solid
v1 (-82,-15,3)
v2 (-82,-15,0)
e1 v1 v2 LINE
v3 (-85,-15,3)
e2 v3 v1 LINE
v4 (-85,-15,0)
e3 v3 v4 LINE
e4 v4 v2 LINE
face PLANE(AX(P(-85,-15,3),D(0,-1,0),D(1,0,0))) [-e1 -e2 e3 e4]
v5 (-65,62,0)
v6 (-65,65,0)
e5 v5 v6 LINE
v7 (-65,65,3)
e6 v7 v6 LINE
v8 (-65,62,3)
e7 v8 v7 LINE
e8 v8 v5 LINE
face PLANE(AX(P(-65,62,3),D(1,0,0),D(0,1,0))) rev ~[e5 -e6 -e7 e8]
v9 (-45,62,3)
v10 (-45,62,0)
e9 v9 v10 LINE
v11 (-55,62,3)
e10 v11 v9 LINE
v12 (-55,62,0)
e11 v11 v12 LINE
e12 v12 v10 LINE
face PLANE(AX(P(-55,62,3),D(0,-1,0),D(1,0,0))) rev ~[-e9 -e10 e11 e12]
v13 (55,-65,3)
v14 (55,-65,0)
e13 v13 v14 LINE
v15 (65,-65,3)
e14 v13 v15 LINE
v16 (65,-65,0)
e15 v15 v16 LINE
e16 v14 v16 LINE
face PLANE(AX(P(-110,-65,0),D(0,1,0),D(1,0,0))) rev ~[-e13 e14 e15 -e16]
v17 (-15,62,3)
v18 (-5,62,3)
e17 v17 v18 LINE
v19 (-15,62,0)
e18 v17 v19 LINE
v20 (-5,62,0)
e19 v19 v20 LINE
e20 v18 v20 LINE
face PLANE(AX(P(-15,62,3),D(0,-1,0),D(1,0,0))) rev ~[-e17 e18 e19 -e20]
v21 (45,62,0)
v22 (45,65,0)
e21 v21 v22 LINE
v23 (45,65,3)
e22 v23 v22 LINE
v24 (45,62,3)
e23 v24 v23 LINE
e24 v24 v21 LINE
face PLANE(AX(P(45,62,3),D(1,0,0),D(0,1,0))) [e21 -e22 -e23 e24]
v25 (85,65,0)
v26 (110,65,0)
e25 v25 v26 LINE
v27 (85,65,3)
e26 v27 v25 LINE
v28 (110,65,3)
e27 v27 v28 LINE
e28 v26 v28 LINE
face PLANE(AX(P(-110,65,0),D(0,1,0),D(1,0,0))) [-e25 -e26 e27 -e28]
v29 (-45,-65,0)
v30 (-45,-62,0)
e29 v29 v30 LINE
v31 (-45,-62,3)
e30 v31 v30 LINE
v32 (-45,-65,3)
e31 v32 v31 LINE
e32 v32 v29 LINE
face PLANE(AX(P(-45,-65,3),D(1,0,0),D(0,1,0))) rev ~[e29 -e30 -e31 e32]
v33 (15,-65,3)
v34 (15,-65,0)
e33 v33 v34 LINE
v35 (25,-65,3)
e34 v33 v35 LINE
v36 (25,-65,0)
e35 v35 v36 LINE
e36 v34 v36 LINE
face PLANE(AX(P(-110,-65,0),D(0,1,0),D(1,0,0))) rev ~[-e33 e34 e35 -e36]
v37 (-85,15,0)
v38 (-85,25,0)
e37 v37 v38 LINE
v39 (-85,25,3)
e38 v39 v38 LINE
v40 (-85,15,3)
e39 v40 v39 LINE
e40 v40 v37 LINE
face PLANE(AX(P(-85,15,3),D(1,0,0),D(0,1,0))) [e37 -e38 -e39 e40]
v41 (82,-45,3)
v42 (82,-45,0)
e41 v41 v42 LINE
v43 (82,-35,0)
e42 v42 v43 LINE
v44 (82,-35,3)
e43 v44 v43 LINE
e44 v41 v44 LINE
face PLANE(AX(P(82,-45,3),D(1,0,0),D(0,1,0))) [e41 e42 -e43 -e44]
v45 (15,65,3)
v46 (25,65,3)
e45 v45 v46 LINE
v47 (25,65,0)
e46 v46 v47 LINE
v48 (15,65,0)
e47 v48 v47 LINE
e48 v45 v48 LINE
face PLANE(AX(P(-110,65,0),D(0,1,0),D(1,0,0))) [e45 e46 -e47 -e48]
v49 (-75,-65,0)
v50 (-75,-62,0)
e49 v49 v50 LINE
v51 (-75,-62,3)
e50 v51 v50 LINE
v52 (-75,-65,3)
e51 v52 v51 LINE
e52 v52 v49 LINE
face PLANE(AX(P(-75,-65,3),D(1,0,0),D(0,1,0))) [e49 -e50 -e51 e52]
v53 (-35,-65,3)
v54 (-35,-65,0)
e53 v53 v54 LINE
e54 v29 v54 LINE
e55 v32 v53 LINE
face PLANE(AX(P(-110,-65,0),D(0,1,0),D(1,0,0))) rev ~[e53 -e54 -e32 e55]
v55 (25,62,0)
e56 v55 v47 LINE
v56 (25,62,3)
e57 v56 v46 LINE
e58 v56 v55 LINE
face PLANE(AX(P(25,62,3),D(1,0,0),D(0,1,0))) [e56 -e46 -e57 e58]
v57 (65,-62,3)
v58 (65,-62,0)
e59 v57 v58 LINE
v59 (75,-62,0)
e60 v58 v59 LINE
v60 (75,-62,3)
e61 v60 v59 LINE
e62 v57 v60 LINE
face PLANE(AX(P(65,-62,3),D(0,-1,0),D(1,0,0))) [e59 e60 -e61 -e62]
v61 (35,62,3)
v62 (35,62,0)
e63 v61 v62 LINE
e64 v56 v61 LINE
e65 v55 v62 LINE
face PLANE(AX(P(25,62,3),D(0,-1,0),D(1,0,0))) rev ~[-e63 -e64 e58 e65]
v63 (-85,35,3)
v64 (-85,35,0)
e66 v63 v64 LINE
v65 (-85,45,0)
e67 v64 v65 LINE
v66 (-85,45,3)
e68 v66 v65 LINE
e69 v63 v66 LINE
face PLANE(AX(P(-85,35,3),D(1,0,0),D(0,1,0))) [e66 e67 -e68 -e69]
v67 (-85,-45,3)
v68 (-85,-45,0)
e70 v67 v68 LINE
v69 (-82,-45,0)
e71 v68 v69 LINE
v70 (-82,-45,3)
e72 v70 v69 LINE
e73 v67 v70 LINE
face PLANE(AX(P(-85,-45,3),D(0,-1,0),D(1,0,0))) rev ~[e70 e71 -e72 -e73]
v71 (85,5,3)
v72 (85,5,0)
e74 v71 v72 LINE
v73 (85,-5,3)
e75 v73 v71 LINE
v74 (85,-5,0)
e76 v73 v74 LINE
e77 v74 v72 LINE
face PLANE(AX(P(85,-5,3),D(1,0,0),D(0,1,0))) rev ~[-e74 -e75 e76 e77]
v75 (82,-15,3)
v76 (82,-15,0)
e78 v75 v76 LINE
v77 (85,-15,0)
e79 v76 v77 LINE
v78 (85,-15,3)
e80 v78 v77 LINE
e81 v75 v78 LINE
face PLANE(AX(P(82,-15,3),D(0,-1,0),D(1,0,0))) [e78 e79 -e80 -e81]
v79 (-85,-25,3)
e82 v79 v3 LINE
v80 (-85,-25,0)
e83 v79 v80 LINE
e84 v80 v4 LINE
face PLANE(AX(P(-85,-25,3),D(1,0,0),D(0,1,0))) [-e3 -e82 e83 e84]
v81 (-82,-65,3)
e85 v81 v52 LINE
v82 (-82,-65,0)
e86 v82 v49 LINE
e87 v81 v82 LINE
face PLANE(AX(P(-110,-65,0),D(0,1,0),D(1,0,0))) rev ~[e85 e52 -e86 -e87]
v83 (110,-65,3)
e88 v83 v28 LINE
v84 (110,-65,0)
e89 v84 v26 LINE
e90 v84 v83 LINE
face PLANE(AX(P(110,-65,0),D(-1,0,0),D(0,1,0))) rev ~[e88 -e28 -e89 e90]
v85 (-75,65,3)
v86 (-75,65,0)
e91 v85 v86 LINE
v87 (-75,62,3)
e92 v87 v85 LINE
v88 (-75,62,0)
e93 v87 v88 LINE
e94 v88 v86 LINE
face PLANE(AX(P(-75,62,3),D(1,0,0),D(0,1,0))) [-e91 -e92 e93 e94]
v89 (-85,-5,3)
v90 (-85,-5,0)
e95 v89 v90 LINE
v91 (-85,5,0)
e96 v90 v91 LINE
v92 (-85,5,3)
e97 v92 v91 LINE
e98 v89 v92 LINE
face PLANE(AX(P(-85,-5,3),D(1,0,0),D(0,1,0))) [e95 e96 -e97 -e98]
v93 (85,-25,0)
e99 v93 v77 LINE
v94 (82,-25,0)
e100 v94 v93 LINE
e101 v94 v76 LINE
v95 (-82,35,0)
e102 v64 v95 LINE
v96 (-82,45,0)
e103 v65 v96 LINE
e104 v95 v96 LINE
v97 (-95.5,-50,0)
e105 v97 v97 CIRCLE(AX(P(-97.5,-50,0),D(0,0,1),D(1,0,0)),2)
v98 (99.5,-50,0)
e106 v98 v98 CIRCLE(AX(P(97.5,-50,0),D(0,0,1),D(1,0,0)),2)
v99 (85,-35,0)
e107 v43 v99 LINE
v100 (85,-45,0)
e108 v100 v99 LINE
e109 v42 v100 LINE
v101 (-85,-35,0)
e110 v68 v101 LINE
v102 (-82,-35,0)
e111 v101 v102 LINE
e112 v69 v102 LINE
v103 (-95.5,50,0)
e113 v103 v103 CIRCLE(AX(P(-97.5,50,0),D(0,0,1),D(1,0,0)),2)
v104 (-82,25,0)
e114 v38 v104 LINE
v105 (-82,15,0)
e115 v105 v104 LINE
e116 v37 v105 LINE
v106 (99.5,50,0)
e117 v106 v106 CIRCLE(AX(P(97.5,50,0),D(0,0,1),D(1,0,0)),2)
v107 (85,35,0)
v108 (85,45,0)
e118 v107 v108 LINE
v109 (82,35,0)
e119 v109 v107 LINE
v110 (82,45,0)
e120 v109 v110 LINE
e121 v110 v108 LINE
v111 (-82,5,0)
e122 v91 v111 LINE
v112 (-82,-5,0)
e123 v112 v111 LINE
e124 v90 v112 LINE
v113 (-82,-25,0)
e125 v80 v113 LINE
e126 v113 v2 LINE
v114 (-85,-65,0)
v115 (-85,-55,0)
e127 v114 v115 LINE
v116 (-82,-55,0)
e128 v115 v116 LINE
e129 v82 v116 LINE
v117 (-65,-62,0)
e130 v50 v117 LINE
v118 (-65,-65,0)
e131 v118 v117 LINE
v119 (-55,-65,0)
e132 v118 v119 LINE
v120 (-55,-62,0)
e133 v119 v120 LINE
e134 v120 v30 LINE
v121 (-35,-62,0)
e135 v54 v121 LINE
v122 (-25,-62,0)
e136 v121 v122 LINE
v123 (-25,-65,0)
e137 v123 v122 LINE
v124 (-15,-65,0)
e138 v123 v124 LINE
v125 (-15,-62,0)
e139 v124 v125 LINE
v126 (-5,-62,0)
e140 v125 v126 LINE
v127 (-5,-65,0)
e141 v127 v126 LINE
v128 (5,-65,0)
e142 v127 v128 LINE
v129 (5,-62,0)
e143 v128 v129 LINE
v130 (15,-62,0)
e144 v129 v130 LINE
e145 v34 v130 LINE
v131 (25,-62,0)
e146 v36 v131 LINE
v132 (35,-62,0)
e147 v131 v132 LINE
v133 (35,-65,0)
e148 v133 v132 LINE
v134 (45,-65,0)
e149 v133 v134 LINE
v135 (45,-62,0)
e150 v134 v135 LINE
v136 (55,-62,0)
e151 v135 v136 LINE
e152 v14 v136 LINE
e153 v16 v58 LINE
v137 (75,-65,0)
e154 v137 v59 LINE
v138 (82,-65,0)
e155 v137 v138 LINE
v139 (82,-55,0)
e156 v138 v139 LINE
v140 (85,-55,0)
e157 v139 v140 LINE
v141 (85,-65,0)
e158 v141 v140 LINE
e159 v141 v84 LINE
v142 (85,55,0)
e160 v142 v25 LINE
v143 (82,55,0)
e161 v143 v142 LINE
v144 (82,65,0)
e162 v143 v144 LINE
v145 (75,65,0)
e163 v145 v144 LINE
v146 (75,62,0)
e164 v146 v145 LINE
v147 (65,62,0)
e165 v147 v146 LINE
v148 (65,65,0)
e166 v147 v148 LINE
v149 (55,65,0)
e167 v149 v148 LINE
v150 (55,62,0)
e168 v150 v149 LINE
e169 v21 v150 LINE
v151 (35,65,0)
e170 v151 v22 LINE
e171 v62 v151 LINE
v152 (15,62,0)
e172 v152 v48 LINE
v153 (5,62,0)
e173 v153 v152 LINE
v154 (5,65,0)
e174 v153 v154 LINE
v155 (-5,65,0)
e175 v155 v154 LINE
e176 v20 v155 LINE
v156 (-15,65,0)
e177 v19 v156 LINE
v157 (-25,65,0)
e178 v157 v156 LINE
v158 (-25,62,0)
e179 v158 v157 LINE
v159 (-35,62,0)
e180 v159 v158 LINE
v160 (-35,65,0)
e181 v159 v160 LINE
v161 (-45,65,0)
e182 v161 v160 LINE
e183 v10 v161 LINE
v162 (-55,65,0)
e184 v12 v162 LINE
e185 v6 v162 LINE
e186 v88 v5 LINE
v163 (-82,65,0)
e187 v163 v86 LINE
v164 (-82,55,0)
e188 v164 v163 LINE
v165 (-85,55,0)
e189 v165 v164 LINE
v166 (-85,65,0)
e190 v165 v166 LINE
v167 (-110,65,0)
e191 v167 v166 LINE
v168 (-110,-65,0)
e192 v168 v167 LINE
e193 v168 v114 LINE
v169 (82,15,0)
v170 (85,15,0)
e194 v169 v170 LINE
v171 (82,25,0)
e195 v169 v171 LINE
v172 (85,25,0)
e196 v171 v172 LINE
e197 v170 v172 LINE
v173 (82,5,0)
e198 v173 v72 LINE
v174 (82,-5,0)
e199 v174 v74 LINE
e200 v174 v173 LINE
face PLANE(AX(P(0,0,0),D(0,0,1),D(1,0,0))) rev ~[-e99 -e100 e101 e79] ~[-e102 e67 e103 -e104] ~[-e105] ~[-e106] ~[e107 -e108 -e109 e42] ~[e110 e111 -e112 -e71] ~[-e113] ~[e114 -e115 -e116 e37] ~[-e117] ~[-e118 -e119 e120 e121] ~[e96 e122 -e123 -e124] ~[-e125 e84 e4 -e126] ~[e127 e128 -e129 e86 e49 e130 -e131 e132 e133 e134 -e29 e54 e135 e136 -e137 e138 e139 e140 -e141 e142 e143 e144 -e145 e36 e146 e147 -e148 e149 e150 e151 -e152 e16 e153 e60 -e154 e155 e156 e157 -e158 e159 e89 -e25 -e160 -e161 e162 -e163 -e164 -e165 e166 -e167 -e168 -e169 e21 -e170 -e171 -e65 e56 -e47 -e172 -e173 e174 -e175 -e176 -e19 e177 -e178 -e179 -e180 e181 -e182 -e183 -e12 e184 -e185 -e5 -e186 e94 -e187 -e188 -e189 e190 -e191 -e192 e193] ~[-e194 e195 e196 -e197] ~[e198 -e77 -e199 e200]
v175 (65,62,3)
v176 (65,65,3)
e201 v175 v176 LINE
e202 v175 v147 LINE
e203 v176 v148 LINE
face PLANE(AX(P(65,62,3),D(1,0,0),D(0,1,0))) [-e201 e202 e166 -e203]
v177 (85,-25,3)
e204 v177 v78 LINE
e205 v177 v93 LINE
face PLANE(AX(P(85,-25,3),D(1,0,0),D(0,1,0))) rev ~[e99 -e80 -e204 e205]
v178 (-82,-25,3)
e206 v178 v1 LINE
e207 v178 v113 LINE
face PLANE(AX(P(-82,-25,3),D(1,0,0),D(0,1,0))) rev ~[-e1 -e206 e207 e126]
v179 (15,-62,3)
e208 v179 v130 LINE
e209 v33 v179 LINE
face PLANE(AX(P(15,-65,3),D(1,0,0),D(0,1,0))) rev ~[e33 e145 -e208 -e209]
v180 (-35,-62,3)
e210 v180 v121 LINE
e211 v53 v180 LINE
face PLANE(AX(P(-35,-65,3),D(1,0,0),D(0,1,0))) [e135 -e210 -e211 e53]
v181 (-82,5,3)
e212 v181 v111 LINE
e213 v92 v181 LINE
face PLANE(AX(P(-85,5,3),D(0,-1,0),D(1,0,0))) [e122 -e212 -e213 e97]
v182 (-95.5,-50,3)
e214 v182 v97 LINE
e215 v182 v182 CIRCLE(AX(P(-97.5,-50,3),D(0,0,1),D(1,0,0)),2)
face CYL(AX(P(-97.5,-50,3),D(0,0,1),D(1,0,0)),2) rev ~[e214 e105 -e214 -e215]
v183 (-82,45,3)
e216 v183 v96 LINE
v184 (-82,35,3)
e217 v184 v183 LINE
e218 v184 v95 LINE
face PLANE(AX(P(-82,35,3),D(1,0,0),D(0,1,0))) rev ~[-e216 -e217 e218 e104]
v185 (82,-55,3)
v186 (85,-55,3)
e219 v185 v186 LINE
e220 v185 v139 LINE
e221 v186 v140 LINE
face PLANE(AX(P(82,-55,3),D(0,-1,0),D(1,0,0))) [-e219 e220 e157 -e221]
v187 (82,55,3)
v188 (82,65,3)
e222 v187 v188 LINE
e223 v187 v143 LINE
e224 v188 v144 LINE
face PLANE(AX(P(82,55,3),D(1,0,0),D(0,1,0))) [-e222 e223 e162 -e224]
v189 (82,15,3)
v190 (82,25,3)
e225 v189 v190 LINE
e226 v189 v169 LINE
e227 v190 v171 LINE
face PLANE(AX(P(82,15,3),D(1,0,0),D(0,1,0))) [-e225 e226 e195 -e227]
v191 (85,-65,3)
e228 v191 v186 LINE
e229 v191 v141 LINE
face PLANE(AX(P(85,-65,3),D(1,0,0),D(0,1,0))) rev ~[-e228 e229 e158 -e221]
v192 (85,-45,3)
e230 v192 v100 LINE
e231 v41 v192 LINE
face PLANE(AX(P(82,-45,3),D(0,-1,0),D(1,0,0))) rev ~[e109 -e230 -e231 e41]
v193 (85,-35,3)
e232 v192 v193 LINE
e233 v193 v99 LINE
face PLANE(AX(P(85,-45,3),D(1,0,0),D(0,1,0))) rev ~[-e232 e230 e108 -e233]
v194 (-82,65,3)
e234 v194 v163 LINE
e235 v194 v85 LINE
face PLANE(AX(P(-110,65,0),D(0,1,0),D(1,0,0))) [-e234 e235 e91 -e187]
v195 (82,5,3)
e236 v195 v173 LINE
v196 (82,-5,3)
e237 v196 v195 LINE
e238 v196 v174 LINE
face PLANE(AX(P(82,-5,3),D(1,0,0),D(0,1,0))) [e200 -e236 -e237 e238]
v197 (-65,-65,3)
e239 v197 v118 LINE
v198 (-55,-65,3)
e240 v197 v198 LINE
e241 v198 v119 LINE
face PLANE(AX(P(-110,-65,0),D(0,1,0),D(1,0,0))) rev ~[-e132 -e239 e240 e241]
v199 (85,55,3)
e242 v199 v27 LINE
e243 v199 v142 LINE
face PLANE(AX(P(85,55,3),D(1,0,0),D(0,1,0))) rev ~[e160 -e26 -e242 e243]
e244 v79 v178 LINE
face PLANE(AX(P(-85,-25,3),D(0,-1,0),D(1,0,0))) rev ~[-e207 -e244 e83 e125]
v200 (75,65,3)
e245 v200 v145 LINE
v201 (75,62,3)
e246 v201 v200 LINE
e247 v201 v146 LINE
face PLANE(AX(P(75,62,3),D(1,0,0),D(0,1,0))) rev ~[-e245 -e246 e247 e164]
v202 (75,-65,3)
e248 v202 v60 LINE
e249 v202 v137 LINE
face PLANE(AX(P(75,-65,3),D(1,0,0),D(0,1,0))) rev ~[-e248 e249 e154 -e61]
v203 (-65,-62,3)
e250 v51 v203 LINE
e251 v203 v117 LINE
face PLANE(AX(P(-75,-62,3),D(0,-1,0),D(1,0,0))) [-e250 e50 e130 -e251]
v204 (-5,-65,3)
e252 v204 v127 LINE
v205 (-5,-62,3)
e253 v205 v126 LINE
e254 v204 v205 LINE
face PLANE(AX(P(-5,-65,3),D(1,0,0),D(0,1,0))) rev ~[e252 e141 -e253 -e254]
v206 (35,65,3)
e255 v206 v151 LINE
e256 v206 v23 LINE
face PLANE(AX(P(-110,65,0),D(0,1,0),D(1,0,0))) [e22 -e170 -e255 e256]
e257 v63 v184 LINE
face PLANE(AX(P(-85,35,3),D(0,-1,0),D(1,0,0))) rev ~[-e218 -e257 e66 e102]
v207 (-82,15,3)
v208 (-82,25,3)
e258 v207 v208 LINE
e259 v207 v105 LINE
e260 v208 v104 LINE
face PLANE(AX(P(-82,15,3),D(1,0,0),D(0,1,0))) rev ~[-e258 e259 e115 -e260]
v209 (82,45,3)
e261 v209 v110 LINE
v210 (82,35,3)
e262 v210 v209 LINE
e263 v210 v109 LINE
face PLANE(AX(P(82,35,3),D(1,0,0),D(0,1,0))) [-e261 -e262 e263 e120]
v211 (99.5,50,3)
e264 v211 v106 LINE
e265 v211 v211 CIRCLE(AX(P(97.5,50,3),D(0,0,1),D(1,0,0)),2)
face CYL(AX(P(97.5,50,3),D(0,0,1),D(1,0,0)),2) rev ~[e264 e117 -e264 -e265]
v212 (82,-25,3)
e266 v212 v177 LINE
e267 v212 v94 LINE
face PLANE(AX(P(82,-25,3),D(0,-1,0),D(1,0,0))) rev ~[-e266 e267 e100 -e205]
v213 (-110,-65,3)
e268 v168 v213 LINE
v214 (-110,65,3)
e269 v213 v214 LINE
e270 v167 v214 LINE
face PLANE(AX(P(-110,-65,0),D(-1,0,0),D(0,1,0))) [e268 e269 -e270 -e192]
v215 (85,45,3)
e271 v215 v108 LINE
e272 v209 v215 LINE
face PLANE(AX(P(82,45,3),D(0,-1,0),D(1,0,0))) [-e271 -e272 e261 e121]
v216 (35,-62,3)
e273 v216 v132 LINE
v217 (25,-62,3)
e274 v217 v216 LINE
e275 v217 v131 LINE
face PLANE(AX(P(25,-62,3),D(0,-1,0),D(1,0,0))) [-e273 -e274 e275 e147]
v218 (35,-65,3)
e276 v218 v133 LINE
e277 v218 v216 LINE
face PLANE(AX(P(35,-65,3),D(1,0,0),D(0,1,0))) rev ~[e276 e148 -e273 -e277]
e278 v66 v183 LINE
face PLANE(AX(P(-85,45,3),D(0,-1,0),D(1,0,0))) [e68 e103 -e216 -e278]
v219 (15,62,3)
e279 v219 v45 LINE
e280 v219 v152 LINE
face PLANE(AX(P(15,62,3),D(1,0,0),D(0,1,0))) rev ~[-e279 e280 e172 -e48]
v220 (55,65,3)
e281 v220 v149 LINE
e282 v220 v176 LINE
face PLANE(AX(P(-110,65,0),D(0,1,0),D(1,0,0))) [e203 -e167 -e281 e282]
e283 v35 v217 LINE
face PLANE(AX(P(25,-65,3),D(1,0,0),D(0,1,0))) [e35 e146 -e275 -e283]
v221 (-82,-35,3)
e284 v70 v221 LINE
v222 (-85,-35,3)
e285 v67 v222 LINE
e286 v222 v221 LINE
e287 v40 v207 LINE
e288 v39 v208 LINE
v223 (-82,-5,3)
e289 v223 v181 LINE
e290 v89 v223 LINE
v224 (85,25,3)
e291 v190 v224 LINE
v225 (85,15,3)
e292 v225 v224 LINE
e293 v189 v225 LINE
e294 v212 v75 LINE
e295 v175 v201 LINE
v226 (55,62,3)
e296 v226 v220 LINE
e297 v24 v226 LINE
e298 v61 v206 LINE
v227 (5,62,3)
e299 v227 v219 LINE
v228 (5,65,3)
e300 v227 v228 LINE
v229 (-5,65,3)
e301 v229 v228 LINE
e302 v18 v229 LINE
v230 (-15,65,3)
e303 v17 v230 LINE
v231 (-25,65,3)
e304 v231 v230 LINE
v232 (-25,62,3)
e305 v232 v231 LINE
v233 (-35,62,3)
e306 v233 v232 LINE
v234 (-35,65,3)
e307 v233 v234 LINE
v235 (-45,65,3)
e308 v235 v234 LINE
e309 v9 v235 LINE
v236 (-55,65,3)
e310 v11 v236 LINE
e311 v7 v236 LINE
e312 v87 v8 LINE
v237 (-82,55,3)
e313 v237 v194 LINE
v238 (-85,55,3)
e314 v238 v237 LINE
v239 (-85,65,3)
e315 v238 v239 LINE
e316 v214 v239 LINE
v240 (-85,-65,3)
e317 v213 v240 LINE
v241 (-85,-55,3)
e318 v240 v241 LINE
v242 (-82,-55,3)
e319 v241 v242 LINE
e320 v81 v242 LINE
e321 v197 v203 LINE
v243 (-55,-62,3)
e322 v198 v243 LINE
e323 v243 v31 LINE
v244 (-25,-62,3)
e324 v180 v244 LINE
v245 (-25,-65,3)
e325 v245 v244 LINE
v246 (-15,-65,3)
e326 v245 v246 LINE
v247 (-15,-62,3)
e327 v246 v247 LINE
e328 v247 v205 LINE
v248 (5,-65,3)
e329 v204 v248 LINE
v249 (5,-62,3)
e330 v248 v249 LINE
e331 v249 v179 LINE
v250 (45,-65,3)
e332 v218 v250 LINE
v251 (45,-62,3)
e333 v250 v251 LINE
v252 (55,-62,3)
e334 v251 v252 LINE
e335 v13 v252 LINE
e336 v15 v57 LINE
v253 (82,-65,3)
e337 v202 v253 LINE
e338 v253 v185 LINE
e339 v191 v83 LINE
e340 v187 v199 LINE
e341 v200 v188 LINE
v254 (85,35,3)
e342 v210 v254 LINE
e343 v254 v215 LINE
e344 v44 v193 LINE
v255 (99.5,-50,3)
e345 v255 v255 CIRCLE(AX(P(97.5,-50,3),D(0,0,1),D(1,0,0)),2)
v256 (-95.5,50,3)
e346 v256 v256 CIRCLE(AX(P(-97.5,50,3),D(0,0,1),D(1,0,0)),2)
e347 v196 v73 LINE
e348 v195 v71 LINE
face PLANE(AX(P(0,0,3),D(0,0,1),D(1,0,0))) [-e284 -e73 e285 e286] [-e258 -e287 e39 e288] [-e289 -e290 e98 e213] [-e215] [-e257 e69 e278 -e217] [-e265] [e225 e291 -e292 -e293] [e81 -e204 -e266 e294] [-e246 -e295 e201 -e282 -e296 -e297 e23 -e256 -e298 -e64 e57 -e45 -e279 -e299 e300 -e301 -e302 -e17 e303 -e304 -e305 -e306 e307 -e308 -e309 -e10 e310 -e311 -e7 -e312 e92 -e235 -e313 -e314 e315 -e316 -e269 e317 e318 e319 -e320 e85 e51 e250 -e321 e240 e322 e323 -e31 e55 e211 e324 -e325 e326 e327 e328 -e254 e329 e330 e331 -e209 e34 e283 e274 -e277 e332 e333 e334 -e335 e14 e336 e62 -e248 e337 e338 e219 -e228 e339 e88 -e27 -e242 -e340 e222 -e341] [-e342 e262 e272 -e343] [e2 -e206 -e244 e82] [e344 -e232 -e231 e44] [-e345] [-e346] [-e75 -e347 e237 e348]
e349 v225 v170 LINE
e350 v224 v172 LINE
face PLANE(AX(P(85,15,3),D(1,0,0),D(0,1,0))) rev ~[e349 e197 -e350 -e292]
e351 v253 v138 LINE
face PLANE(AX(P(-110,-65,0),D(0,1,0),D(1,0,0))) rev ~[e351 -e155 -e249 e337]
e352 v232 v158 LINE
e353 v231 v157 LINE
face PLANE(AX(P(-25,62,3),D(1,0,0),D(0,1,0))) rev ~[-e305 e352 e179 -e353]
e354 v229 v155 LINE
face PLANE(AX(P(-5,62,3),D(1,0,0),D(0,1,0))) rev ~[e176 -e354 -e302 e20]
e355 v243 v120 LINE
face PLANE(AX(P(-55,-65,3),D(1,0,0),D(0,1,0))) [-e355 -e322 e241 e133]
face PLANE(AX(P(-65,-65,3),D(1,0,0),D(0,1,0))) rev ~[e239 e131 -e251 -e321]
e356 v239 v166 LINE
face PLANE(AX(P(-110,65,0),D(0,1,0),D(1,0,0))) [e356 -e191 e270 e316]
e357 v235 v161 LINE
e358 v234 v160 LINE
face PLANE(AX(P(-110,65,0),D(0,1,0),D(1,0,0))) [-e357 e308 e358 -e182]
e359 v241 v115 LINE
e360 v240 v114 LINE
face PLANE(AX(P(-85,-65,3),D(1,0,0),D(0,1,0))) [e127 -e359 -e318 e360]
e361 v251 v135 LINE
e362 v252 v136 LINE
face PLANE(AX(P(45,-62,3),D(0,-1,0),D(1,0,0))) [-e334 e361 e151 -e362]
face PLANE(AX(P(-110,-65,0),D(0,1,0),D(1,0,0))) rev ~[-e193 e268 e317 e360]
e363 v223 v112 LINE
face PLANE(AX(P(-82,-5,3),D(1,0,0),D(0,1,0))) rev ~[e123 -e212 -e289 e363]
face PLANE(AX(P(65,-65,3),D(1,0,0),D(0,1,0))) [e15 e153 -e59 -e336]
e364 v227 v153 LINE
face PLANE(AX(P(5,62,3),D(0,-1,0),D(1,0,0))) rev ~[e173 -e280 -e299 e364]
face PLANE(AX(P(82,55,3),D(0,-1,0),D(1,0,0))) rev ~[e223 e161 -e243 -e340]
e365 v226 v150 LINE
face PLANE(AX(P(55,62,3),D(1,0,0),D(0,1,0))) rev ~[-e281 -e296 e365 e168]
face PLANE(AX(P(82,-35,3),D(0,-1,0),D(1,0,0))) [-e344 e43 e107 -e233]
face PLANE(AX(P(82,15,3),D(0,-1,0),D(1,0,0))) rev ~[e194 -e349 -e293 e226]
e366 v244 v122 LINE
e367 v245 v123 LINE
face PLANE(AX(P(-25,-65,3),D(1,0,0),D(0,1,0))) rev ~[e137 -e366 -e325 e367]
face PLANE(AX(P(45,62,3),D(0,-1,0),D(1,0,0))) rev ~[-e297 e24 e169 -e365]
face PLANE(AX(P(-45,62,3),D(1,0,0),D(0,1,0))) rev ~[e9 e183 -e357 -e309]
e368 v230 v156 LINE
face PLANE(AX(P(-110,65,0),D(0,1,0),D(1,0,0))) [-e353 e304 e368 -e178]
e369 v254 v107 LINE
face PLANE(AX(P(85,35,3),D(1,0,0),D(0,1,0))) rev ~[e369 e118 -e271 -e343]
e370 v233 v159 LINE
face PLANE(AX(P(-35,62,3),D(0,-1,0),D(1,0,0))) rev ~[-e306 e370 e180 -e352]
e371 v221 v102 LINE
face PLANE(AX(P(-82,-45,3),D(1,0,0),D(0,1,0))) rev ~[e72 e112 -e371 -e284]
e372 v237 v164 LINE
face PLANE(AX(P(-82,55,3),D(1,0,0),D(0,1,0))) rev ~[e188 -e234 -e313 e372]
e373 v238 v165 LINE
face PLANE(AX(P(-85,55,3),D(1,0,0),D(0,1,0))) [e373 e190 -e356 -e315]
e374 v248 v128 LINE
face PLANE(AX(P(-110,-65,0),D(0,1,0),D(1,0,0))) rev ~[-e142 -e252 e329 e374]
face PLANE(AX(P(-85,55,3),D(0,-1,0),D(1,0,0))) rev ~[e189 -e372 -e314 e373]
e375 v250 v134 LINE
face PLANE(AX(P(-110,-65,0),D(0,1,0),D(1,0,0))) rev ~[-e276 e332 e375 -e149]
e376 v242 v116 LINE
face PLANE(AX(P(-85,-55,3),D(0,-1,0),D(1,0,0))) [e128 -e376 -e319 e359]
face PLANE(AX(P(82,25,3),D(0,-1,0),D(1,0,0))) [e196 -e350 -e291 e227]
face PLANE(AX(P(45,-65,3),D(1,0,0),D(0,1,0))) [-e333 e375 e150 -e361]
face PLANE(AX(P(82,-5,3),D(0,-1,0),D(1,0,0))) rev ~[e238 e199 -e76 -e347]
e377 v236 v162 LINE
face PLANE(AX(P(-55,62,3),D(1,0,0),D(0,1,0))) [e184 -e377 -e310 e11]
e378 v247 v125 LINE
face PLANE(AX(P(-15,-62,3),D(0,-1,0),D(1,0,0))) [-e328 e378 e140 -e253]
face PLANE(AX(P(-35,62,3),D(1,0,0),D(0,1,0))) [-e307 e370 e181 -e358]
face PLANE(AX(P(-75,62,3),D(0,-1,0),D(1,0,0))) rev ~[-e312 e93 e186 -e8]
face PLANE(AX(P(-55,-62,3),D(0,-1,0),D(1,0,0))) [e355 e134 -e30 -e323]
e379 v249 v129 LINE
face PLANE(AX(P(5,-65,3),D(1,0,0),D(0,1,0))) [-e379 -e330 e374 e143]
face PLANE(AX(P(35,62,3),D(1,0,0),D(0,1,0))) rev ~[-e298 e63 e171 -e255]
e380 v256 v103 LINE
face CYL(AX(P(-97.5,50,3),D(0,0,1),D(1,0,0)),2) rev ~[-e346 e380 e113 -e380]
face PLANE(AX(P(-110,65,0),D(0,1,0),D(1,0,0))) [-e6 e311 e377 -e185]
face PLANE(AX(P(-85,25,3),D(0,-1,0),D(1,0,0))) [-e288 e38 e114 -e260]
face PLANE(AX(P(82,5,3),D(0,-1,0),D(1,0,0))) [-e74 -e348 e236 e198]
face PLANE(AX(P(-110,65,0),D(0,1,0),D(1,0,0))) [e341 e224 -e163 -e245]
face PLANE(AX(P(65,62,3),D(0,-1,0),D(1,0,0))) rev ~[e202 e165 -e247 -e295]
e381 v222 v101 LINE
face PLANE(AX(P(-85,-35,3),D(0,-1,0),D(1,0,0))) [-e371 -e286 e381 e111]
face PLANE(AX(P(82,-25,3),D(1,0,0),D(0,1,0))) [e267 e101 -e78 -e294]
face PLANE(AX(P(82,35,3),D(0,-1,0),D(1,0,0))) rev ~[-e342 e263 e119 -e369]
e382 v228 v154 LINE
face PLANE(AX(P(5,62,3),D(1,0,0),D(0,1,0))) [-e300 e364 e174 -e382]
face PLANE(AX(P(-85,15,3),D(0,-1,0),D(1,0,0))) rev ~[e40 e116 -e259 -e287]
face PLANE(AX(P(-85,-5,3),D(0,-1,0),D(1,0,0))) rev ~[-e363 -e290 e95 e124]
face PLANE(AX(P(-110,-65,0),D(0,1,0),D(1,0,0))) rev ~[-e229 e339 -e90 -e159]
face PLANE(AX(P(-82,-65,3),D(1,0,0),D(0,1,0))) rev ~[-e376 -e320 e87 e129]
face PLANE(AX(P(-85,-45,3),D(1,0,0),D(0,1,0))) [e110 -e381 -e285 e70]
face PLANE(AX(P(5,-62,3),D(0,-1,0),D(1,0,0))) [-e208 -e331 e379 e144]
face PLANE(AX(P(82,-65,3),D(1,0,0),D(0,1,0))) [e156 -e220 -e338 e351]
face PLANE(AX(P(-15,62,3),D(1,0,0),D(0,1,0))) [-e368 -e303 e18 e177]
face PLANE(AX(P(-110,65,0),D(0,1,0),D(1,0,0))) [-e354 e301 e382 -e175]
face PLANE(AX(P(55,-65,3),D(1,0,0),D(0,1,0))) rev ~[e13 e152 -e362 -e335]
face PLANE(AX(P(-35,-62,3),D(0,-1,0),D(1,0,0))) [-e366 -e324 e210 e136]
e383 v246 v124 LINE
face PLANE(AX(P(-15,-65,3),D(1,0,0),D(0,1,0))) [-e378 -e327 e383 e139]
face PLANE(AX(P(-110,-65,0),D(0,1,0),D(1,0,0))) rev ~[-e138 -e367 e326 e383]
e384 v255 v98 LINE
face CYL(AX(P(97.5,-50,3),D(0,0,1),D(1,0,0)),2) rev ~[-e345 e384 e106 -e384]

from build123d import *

# Parameters (mm, degrees)
F0_W     = 220
F0_H     = 130
F1_DEPTH = 3
F2_W     = 10
F2_H     = 3
F2_W_2   = 3
F2_H_2   = 10
F3_DEPTH = 3.001
F4_R     = 2
F5_DEPTH = 3.001


with BuildPart() as f1:
    # F0 (on Top) → F1 (new body)
    with BuildSketch(Plane.XY):
        Rectangle(F0_W, F0_H)
    extrude(amount=F1_DEPTH)

    # F2 (on face) → F3 (cut, through all)
    with BuildSketch(Plane.XY.offset(3)):
        with Locations((-70, -63.5)):
            Rectangle(F2_W, F2_H)
        with Locations((-50, -63.5)):
            Rectangle(F2_W, F2_H)
        with Locations((-30, -63.5)):
            Rectangle(F2_W, F2_H)
        with Locations((-10, -63.5)):
            Rectangle(F2_W, F2_H)
        with Locations((10, -63.5)):
            Rectangle(F2_W, F2_H)
        with Locations((30, -63.5)):
            Rectangle(F2_W, F2_H)
        with Locations((50, -63.5)):
            Rectangle(F2_W, F2_H)
        with Locations((70, -63.5)):
            Rectangle(F2_W, F2_H)
        with Locations((-83.5, -60)):
            Rectangle(F2_W_2, F2_H_2)
        with Locations((-83.5, -40)):
            Rectangle(F2_W_2, F2_H_2)
        with Locations((-83.5, -20)):
            Rectangle(F2_W_2, F2_H_2)
        with Locations((-83.5, 0)):
            Rectangle(F2_W_2, F2_H_2)
        with Locations((-83.5, 20)):
            Rectangle(F2_W_2, F2_H_2)
        with Locations((-83.5, 40)):
            Rectangle(F2_W_2, F2_H_2)
        with Locations((-83.5, 60)):
            Rectangle(F2_W_2, F2_H_2)
        with Locations((-50, 63.5)):
            Rectangle(F2_W, F2_H)
        with Locations((30, 63.5)):
            Rectangle(F2_W, F2_H)
        with Locations((-70, 63.5)):
            Rectangle(F2_W, F2_H)
        with Locations((70, 63.5)):
            Rectangle(F2_W, F2_H)
        with Locations((-10, 63.5)):
            Rectangle(F2_W, F2_H)
        with Locations((-30, 63.5)):
            Rectangle(F2_W, F2_H)
        with Locations((50, 63.5)):
            Rectangle(F2_W, F2_H)
        with Locations((10, 63.5)):
            Rectangle(F2_W, F2_H)
        with Locations((83.5, -40)):
            Rectangle(F2_W_2, F2_H_2)
        with Locations((83.5, -20)):
            Rectangle(F2_W_2, F2_H_2)
        with Locations((83.5, 40)):
            Rectangle(F2_W_2, F2_H_2)
        with Locations((83.5, 60)):
            Rectangle(F2_W_2, F2_H_2)
        with Locations((83.5, 20)):
            Rectangle(F2_W_2, F2_H_2)
        with Locations((83.5, -60)):
            Rectangle(F2_W_2, F2_H_2)
        with Locations((83.5, 0)):
            Rectangle(F2_W_2, F2_H_2)
    extrude(amount=-F3_DEPTH, mode=Mode.SUBTRACT)

    # F4 (on face) → F5 (cut, through all)
    with BuildSketch(Plane.XY.offset(3)):
        with Locations((97.5, 50)):
            Circle(F4_R)
        with Locations((97.5, -50)):
            Circle(F4_R)
        with Locations((-97.5, 50)):
            Circle(F4_R)
        with Locations((-97.5, -50)):
            Circle(F4_R)
    extrude(amount=-F5_DEPTH, mode=Mode.SUBTRACT)


solid = f1.part
